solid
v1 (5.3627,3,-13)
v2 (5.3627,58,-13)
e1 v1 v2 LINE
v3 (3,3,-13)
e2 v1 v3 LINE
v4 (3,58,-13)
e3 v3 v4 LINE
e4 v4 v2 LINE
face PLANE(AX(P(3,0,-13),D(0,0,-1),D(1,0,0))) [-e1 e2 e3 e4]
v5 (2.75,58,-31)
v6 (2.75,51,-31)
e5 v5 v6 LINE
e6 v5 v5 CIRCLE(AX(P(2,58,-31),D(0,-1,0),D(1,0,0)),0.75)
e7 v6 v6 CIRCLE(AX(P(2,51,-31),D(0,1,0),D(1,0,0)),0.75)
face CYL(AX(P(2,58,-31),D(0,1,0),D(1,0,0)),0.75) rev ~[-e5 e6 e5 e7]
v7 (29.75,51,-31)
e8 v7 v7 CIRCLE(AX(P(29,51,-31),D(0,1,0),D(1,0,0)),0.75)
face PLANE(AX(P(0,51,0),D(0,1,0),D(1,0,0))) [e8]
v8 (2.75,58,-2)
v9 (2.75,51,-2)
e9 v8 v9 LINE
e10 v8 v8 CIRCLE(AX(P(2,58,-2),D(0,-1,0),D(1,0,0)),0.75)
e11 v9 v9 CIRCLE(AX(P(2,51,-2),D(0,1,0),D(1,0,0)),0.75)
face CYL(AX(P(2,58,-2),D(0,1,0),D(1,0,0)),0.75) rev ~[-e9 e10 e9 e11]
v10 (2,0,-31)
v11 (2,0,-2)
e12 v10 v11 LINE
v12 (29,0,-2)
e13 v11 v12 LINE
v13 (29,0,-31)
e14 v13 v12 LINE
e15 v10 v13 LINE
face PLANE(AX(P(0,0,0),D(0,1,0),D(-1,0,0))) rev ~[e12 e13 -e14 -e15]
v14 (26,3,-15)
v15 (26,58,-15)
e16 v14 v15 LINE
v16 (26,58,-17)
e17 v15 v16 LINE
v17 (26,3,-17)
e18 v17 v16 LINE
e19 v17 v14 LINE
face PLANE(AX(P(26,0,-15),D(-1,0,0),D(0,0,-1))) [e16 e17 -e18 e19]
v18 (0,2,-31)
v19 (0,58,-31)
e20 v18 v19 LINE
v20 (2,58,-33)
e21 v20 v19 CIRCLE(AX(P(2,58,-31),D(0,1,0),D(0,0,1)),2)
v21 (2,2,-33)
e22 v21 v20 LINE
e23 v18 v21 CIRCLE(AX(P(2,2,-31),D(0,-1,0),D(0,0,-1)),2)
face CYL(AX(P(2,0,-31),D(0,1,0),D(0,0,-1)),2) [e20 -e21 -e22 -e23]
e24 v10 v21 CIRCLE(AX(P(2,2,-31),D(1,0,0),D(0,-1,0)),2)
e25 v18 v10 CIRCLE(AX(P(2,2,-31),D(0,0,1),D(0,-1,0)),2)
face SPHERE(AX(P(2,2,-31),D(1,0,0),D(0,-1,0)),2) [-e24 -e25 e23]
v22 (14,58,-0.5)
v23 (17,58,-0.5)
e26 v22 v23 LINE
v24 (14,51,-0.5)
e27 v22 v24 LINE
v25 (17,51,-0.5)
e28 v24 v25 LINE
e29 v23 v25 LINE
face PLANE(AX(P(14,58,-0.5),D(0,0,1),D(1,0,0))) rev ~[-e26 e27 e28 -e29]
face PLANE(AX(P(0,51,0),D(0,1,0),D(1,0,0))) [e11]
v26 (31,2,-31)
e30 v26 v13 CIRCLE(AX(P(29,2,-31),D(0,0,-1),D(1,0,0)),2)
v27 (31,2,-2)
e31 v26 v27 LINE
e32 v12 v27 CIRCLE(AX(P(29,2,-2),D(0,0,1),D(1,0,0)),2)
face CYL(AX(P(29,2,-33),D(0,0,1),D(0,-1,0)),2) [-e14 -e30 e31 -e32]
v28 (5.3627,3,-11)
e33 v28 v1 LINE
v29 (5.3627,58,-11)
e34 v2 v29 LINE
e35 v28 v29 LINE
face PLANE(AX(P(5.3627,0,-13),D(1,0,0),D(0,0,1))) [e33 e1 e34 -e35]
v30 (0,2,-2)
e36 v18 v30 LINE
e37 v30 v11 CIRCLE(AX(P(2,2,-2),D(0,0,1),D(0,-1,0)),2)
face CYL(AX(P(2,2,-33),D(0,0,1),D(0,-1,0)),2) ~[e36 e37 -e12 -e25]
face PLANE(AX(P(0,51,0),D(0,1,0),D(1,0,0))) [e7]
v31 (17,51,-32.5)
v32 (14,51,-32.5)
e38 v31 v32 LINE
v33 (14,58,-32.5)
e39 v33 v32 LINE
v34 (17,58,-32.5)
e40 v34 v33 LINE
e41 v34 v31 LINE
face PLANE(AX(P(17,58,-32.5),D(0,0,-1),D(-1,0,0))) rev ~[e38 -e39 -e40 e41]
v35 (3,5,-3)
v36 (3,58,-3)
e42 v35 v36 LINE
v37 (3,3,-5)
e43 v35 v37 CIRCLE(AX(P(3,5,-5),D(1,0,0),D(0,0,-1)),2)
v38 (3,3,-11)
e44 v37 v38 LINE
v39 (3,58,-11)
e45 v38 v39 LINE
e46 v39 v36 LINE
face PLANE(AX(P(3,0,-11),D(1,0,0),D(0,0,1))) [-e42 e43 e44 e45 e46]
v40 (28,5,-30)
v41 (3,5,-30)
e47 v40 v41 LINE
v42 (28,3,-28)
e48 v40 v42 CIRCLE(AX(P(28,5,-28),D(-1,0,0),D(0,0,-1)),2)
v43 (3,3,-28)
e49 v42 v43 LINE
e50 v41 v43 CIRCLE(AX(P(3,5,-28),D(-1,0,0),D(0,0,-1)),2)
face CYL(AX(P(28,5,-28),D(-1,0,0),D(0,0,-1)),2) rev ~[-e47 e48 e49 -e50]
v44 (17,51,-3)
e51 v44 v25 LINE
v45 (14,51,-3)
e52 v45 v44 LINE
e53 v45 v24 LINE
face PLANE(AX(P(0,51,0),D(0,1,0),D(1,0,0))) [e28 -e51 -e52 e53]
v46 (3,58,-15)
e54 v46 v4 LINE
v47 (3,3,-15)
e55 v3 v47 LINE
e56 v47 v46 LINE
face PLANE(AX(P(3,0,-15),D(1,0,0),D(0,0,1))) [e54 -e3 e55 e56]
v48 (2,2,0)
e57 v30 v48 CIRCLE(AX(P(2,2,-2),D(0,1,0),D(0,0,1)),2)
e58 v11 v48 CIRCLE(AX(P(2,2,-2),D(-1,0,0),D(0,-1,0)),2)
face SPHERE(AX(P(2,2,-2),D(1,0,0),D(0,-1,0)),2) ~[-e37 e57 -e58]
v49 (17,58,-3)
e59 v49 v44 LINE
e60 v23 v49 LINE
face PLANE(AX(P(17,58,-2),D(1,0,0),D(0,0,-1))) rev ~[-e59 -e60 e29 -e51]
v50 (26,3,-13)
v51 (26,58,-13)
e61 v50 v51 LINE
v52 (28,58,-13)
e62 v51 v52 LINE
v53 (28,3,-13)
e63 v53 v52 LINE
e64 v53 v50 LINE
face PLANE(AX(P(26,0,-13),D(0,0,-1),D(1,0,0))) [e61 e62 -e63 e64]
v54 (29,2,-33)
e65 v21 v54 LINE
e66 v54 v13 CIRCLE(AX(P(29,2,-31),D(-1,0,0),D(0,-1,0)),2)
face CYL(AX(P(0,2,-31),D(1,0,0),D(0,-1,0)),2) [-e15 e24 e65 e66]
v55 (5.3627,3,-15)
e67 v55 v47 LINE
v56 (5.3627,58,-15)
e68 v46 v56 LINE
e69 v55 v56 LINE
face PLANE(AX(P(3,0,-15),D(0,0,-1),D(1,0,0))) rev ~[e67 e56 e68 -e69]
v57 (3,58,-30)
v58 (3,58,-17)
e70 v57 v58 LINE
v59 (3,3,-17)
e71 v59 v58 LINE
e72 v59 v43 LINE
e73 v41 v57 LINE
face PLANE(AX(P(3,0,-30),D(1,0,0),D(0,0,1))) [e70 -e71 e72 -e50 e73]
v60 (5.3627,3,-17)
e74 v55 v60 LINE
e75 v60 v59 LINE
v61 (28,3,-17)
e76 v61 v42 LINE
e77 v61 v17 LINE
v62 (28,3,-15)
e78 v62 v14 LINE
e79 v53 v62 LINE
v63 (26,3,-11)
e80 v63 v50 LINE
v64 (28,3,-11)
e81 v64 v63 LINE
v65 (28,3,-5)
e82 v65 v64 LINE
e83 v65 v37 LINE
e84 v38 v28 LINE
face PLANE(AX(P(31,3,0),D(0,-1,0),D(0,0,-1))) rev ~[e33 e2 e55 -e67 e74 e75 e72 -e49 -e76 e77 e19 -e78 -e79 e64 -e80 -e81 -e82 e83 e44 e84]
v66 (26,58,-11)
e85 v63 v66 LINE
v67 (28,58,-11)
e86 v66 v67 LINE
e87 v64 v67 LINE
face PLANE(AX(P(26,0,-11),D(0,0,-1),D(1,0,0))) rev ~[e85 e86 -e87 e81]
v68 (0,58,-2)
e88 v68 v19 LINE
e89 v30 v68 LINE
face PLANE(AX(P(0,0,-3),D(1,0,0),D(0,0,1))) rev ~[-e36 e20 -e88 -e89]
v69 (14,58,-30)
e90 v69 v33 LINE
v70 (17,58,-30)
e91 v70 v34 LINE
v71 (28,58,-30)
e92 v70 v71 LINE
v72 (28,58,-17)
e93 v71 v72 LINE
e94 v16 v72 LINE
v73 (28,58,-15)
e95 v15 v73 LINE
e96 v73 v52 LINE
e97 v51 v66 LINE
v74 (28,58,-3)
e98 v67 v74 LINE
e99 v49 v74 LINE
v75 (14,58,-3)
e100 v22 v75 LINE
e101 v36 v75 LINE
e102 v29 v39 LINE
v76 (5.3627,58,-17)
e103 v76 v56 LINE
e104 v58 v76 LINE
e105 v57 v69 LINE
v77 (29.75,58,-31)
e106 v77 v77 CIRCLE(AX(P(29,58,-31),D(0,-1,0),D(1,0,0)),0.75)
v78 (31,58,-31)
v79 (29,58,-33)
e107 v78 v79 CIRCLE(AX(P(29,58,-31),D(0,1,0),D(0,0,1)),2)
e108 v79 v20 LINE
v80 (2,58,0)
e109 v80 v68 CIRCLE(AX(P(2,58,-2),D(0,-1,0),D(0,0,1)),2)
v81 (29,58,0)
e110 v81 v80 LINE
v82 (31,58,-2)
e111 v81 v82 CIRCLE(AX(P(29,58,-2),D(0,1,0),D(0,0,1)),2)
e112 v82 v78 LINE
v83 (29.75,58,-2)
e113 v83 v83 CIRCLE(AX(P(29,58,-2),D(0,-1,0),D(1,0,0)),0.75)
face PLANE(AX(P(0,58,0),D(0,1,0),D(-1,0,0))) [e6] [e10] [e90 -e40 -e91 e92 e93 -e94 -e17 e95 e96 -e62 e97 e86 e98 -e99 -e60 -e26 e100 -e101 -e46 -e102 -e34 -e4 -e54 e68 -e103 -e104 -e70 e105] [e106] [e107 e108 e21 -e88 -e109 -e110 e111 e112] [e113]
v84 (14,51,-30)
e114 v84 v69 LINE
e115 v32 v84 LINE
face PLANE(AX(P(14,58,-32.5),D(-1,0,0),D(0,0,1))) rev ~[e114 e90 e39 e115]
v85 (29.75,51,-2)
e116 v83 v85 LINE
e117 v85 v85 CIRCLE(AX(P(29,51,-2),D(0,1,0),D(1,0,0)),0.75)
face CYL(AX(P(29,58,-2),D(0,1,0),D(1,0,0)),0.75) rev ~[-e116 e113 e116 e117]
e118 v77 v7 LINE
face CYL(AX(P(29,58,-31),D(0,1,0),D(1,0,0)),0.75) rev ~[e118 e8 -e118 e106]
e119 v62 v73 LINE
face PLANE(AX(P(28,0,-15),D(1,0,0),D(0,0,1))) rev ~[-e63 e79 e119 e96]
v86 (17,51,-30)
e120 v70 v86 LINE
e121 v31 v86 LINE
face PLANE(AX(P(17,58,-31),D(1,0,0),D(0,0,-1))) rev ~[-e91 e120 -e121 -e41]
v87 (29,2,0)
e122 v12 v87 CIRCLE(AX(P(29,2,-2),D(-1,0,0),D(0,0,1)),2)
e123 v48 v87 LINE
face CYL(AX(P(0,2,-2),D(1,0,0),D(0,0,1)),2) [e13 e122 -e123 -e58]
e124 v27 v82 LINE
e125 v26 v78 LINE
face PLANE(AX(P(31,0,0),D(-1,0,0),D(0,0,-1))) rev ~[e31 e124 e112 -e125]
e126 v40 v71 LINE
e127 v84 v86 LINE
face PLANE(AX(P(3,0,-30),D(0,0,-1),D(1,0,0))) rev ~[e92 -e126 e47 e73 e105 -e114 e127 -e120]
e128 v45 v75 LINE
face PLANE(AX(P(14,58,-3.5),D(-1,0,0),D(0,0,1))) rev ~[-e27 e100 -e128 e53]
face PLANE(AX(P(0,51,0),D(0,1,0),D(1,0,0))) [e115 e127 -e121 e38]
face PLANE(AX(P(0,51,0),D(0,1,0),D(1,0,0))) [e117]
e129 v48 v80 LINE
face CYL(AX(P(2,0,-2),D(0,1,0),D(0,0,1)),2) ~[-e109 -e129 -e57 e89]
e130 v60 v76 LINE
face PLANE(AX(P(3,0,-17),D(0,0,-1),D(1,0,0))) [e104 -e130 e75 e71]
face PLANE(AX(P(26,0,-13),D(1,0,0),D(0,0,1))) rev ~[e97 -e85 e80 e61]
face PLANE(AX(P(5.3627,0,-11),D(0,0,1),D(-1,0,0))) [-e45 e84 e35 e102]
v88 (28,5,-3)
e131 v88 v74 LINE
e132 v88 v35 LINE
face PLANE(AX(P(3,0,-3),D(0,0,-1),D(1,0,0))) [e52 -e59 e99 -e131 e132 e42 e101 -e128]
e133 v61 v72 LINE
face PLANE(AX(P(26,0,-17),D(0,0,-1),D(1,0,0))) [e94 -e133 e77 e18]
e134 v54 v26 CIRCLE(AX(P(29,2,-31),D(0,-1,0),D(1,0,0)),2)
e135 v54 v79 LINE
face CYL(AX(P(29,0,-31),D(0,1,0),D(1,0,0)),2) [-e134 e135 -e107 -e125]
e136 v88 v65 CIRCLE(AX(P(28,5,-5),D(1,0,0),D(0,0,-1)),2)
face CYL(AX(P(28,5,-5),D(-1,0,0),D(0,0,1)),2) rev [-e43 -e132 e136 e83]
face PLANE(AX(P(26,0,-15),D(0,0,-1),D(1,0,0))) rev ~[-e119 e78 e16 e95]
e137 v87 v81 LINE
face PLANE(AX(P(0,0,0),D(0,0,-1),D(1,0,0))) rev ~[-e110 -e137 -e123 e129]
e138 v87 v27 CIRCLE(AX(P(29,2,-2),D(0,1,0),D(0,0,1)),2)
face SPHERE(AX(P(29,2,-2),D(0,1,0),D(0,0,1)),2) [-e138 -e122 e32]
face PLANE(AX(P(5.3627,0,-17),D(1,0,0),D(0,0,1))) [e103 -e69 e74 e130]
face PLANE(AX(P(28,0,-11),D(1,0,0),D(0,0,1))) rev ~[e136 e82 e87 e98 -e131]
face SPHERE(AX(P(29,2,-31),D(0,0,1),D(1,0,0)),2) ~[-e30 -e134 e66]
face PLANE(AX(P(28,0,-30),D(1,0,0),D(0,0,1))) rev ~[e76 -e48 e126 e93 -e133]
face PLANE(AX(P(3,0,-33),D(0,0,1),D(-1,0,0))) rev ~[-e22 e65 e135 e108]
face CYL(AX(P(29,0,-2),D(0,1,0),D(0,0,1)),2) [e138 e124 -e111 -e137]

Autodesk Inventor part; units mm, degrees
ref_plane "YZ Plane" through (0, 0, 0) normal (1, 0, 0) x (0, 1, 0)
ref_plane "XZ Plane" through (0, 0, 0) normal (0, 1, 0) x (-1, 0, 0)
ref_plane "XY Plane" through (0, 0, 0) normal (0, 0, 1) x (1, 0, 0)
sketch "Boceto1" plane through (0, 0, 0) normal (0, 1, 0) x (-1, 0, 0)
  line L0 (0, 0) -> (-31, 0)
  line L1 (-31, 0) -> (-31, -33)
  line L2 (-31, -33) -> (0, -33)
  line L3 (0, -33) -> (0, 0)
  line L4 (0, -33) -> (0, -30)
  line L5 (0, -30) -> (0, -15)
  line L6 (0, -15) -> (0, -13)
  line L7 (0, -13) -> (0, -3)
  line L8 (0, -3) -> (0, 0)
  line L9 (0, -30) -> (-31, -30)
  line L10 (0, -15) -> (-31, -15)
  line L11 (0, -13) -> (-31, -13)
  line L12 (0, -3) -> (-31, -3)
  line L13 (0, -33) -> (-3, -33)
  line L14 (0, -33) -> (-3, -33)
  line L15 (-3, -33) -> (-3, 0)
  line L16 (-31, -33) -> (-28, -33)
  line L17 (-28, -33) -> (-28, 0)
  line L18 (-3, -15) -> (-3, -17)
  line L19 (-3, -17) -> (-5.3627, -17)
  line L20 (-5.3627, -17) -> (-5.3627, -15)
  line L21 (-5.3627, -13) -> (-5.3627, -11)
  line L22 (-5.3627, -11) -> (-3, -11)
  line L23 (-28, -15) -> (-26, -15)
  line L24 (-26, -15) -> (-26, -17)
  line L25 (-26, -17) -> (-28, -17)
  line L26 (-26, -13) -> (-26, -11)
  line L27 (-26, -11) -> (-28, -11)
  point P0 (-3, -30)
  point P1 (-28, -30)
  point P2 (-28, -13)
  point P3 (-28, -3)
  point P4 (-3, -3)
  point P5 (-3, -13)
  dimension "d0" = 31
  dimension "d1" = 33
  dimension "d2" = 3
  dimension "d3" = 15
  dimension "d4" = 2
  dimension "d5" = 10
  dimension "d6" = 3
  dimension "d7" = 3
  dimension "d8" = 2
  dimension "d9" = 2
  dimension "d10" = 2
  dimension "d11" = 2
  dimension "d12" = 2
extrude "Extrusión1" add sketch "Boceto1" along normal blind 58 contours L3 L12 L15 L0 | L15 L12 L17 L0 | L3 L11 L15 L12 | L17 L12 L1 L0 | L3 L10 L15 L11 | L17 L11 L1 L12 | L15 L11 L21 L22 | L3 L9 L15 L10 | L27 L26 L11 L17 | L3 L2 L15 L9 | L15 L19 L20 L10 | L11 L17 L10 L1 | L15 L2 L17 L9 | L10 L17 L9 L1 | L10 L24 L25 L17 | L17 L2 L1 L9
sketch "Boceto2" plane through (31, 0, 0) normal (1, 0, 0) x (0, 0, -1)
  line L0 (33, 0) -> (33, 58) projected
  line L1 (0, 0) -> (0, 58) projected
  line L2 (33, 0) -> (0, 0)
  line L3 (0, 0) -> (0, 3)
  line L4 (0, 3) -> (33, 3)
  line L5 (33, 3) -> (33, 0)
  dimension "d15" = 3
extrude "Extrusión2" add sketch "Boceto2" against normal up to surface (28 mm away)
fillet "Empalme1" radius 2 10 edges at (31, 29, 0) (15.5, 0, 0) (31, 0, -16.5) (31, 29, -33) (15.5, 0, -33) (0, 0, -16.5) (0, 29, 0) (0, 29, -33) (15.5, 3, -3) (15.5, 3, -30)
sketch "Boceto4" plane through (0, 58, 0) normal (0, 1, 0) x (1, 0, 0)
  line L0 (0, 31) -> (2, 31) projected
  circle A0 centre (2, 31) radius 0.75
  line L1 (29, 31) -> (31, 31) projected
  circle A1 centre (29, 31) radius 0.75
  line L2 (2, 0) -> (2, 2) projected
  circle A2 centre (2, 2) radius 0.75
  line L3 (2, 2) -> (29, 2) projected
  circle A3 centre (29, 2) radius 0.75
  line L4 (2, 31) -> (15.5, 31)
  line L5 (29, 31) -> (2, 31) projected
  line L6 (14, 29.5) -> (17, 29.5)
  line L7 (17, 29.5) -> (17, 32.5)
  line L8 (17, 32.5) -> (14, 32.5)
  line L9 (14, 32.5) -> (14, 29.5)
  line L10 (14, 29.5) -> (17, 32.5) construction
  line L11 (17, 29.5) -> (14, 32.5) construction
  line L12 (14, 0.5) -> (17, 0.5)
  line L13 (17, 0.5) -> (17, 3.5)
  line L14 (17, 3.5) -> (14, 3.5)
  line L15 (14, 3.5) -> (14, 0.5)
  line L16 (14, 0.5) -> (17, 3.5) construction
  line L17 (17, 0.5) -> (14, 3.5) construction
  point P0 (0, 0)
  point P1 (15.5, 2)
  dimension "d19" = 1.5
  dimension "d20" = 1.5
  dimension "d21" = 1.5
  dimension "d22" = 1.5
  dimension "d23" = 3
  dimension "d24" = 3
  dimension "d25" = 3
  dimension "d26" = 3
extrude "Extrusión3" cut sketch "Boceto4" against normal blind 7
sketch "Boceto5" plane through (0, 58, 0) normal (0, 1, 0) x (1, 0, 0)
  line L0 (3, 15) -> (5.3627, 15) projected
  line L1 (3, 28) -> (28, 28) projected
  line L2 (2, 33) -> (29, 33) projected
  arc A0 (2, 33) -> (0, 31) centre (2, 31) ccw projected
  arc A1 (2, 33) -> (0, 31) centre (2, 31) ccw projected
  arc A2 (2, 33) -> (0, 31) centre (2, 31) ccw projected
  line L3 (5.3627, 13) -> (3, 13) projected
  line L4 (5.3627, 11) -> (5.3627, 13) projected
  line L5 (3, 11) -> (5.3627, 11) projected
  line L6 (3, 3) -> (3, 11) projected
  arc A3 (0, 2) -> (2, 0) centre (2, 2) ccw projected
  circle A4 centre (2, 2) radius 0.75 projected
  circle A5 centre (2, 2) radius 0.75 projected
  circle A6 centre (2, 2) radius 0.75 projected
  circle A7 centre (2, 2) radius 0.75 projected
  circle A8 centre (2, 2) radius 0.75 projected
  line L7 (3, 5) -> (3, 11) projected
  line L8 (3, 11) -> (5.3627, 11) projected
  line L9 (5.3627, 11) -> (5.3627, 13) projected
  line L10 (5.3627, 13) -> (3, 13) projected
  line L11 (5.3627, 11) -> (5.3627, 13) projected
  line L12 (5.3627, 11) -> (5.3627, 13) projected
  line L13 (3, 11) -> (5.3627, 11) projected
  line L14 (3, 11) -> (5.3627, 11) projected
  line L15 (3, 3) -> (3, 5) projected
  line L16 (3, 5) -> (3, 11) projected
  line L17 (3, 3) -> (3, 11) projected
  arc A9 (0, 2) -> (2, 0) centre (2, 2) ccw projected
  arc A10 (0, 2) -> (2, 0) centre (2, 2) ccw projected
  line L18 (5.3627, 13) -> (3, 13) projected
  line L19 (5.3627, 13) -> (3, 13) projected
  line L20 (3, 3) -> (28, 3) projected
  line L21 (14, 3) -> (3, 3) projected
  line L22 (28, 3) -> (17, 3) projected
  line L23 (2, 0) -> (29, 0) projected
  line L24 (14, 3) -> (17, 3) projected
  line L25 (17, 3) -> (17, 0.5) projected
  line L26 (17, 3) -> (17, 0.5) projected
  line L27 (14, 0.5) -> (14, 3) projected
  line L28 (14, 0.5) -> (14, 3) projected
  line L29 (17, 0.5) -> (14, 0.5) projected
  line L30 (17, 0.5) -> (14, 0.5) projected
  line L31 (14, 3) -> (17, 3) projected
  line L32 (28, 3) -> (17, 3) projected
  line L33 (3, 3) -> (28, 3) projected
  line L34 (14, 3) -> (3, 3) projected
  line L35 (14, 3) -> (17, 3) projected
  line L36 (14, 0.5) -> (14, 3) projected
  line L37 (17, 0.5) -> (14, 0.5) projected
  line L38 (17, 3) -> (17, 0.5) projected
  line L39 (17, 3) -> (17, 0.5) projected
  line L40 (17, 3) -> (17, 0.5) projected
  line L41 (14, 0.5) -> (14, 3) projected
  line L42 (14, 0.5) -> (14, 3) projected
  line L43 (17, 0.5) -> (14, 0.5) projected
  line L44 (17, 0.5) -> (14, 0.5) projected
  line L45 (28, 5) -> (3, 5) projected
  line L46 (28, 5) -> (28, 3) projected
  line L47 (3, 3) -> (3, 5) projected
  arc A11 (0, 2) -> (2, 0) centre (2, 2) ccw projected
  line L48 (2, 0) -> (29, 0) projected
  line L49 (29, 0) -> (2, 0) projected
  line L50 (26, 17) -> (26, 15) projected
  line L51 (28, 17) -> (26, 17) projected
  line L52 (28, 30) -> (28, 17) projected
  arc A12 (31, 31) -> (29, 33) centre (29, 31) ccw projected
  line L53 (31, 2) -> (31, 31) projected
  circle A13 centre (29, 31) radius 0.75 projected
  circle A14 centre (29, 31) radius 0.75 projected
  circle A15 centre (29, 31) radius 0.75 projected
  circle A16 centre (29, 31) radius 0.75 projected
  circle A17 centre (29, 31) radius 0.75 projected
  line L54 (31, 31) -> (31, 2) projected
  line L55 (31, 31) -> (31, 2) projected
  line L56 (31, 2) -> (31, 31) projected
  line L57 (26, 17) -> (26, 15) projected
  line L58 (26, 17) -> (26, 15) projected
  line L59 (28, 17) -> (26, 17) projected
  line L60 (28, 17) -> (26, 17) projected
  line L61 (28, 30) -> (28, 28) projected
  line L62 (28, 28) -> (28, 17) projected
  line L63 (28, 30) -> (28, 17) projected
  arc A18 (31, 31) -> (29, 33) centre (29, 31) ccw projected
  arc A19 (31, 31) -> (29, 33) centre (29, 31) ccw projected
  line L64 (28, 11) -> (28, 3) projected
  line L65 (26, 11) -> (28, 11) projected
  line L66 (26, 13) -> (26, 11) projected
  line L67 (28, 13) -> (26, 13) projected
  line L68 (28, 15) -> (28, 13) projected
  line L69 (26, 15) -> (28, 15) projected
  arc A20 (29, 0) -> (31, 2) centre (29, 2) ccw projected
  circle A21 centre (29, 2) radius 0.75 projected
  circle A22 centre (29, 2) radius 0.75 projected
  circle A23 centre (29, 2) radius 0.75 projected
  circle A24 centre (29, 2) radius 0.75 projected
  circle A25 centre (29, 2) radius 0.75 projected
  line L70 (26, 13) -> (26, 11) projected
  line L71 (26, 13) -> (26, 11) projected
  line L72 (28, 15) -> (28, 13) projected
  line L73 (28, 15) -> (28, 13) projected
  line L74 (28, 13) -> (26, 13) projected
  line L75 (28, 13) -> (26, 13) projected
  line L76 (26, 11) -> (28, 11) projected
  line L77 (26, 11) -> (28, 11) projected
  line L78 (28, 5) -> (28, 3) projected
  line L79 (28, 11) -> (28, 3) projected
  line L80 (28, 11) -> (28, 5) projected
  arc A26 (29, 0) -> (31, 2) centre (29, 2) ccw projected
  arc A27 (29, 0) -> (31, 2) centre (29, 2) ccw projected
  line L81 (26, 15) -> (28, 15) projected
  line L82 (26, 15) -> (28, 15) projected
  line L83 (28, 30) -> (3, 30) projected
  line L84 (3, 30) -> (14, 30) projected
  line L85 (28, 30) -> (3, 30) projected
  line L86 (17, 30) -> (28, 30) projected
  line L87 (17, 30) -> (14, 30) projected
  line L88 (2, 33) -> (29, 33) projected
  line L89 (29, 33) -> (2, 33) projected
  line L90 (3, 28) -> (3, 30) projected
  line L91 (3, 17) -> (3, 30) projected
  line L92 (3, 17) -> (3, 28) projected
  line L93 (5.3627, 17) -> (3, 17) projected
  line L94 (5.3627, 17) -> (3, 17) projected
  line L95 (5.3627, 15) -> (5.3627, 17) projected
  line L96 (5.3627, 15) -> (5.3627, 17) projected
  line L97 (3, 15) -> (5.3627, 15) projected
  line L98 (3, 15) -> (5.3627, 15) projected
  line L99 (3, 13) -> (3, 15) projected
  line L100 (3, 13) -> (3, 15) projected
  line L101 (17, 30) -> (14, 30) projected
  line L102 (14, 32.5) -> (17, 32.5) projected
  line L103 (17, 30) -> (14, 30) projected
  line L104 (17, 32.5) -> (17, 30) projected
  line L105 (14, 32.5) -> (17, 32.5) projected
  line L106 (14, 30) -> (14, 32.5) projected
  line L107 (17, 30) -> (28, 30) projected
  line L108 (29, 33) -> (2, 33) projected
  arc A28 (29, 0) -> (31, 2) centre (29, 2) ccw projected
  line L109 (31, 2) -> (31, 31) projected
  arc A29 (31, 31) -> (29, 33) centre (29, 31) ccw projected
  line L110 (29, 33) -> (2, 33) projected
  arc A30 (2, 33) -> (0, 31) centre (2, 31) ccw projected
  line L111 (0, 31) -> (0, 2) projected
  arc A31 (0, 2) -> (2, 0) centre (2, 2) ccw projected
  line L112 (2, 0) -> (29, 0) projected
  circle A32 centre (2, 31) radius 0.75 projected
  circle A33 centre (29, 2) radius 0.75 projected
  circle A34 centre (2, 2) radius 0.75 projected
  circle A35 centre (29, 31) radius 0.75 projected
  line L113 (14, 30) -> (14, 32.5) projected
  line L114 (14, 32.5) -> (17, 32.5) projected
  line L115 (17, 32.5) -> (17, 30) projected
  line L116 (17, 30) -> (28, 30) projected
  line L117 (28, 30) -> (28, 17) projected
  line L118 (28, 17) -> (26, 17) projected
  line L119 (26, 17) -> (26, 15) projected
  line L120 (26, 15) -> (28, 15) projected
  line L121 (28, 15) -> (28, 13) projected
  line L122 (28, 13) -> (26, 13) projected
  line L123 (26, 13) -> (26, 11) projected
  line L124 (26, 11) -> (28, 11) projected
  line L125 (28, 11) -> (28, 3) projected
  line L126 (28, 3) -> (17, 3) projected
  line L127 (17, 3) -> (17, 0.5) projected
  line L128 (17, 0.5) -> (14, 0.5) projected
  line L129 (14, 0.5) -> (14, 3) projected
  line L130 (14, 3) -> (3, 3) projected
  line L131 (3, 3) -> (3, 11) projected
  line L132 (3, 11) -> (5.3627, 11) projected
  line L133 (5.3627, 11) -> (5.3627, 13) projected
  line L134 (5.3627, 13) -> (3, 13) projected
  line L135 (3, 13) -> (3, 15) projected
  line L136 (3, 15) -> (5.3627, 15) projected
  line L137 (5.3627, 15) -> (5.3627, 17) projected
  line L138 (5.3627, 17) -> (3, 17) projected
  line L139 (3, 17) -> (3, 30) projected
  line L140 (3, 30) -> (14, 30) projected
  line L141 (5.3627, 15) -> (5.3627, 17) projected
  line L142 (3, 15) -> (5.3627, 15) projected
  line L143 (3, 13) -> (3, 15) projected
  line L144 (5.3627, 17) -> (3, 17) projected
  circle A36 centre (2, 31) radius 0.75 projected
  circle A37 centre (2, 31) radius 0.75 projected
  circle A38 centre (2, 31) radius 0.75 projected
  arc A39 (2, 33) -> (0, 31) centre (2, 31) ccw projected
  line L145 (14, 32.5) -> (17, 32.5) projected
  line L146 (14, 32.5) -> (17, 32.5) projected
  line L147 (14, 32.5) -> (17, 32.5) projected
  line L148 (3, 28) -> (3, 30) projected
  line L149 (5.3627, 17) -> (3, 17) projected
  line L150 (5.3627, 15) -> (5.3627, 17) projected
  arc A40 (2, 33) -> (0, 31) centre (2, 31) ccw projected
  line L151 (2, 31) -> (2, 33) projected
  line L152 (0, 31) -> (2, 31) projected
  line L153 (28, 30) -> (28, 28) projected
  line L154 (26, 17) -> (26, 15) projected
  line L155 (28, 17) -> (26, 17) projected
  line L156 (26, 15) -> (28, 15) projected
  line L157 (26, 13) -> (26, 11) projected
  line L158 (28, 15) -> (28, 13) projected
  line L159 (28, 13) -> (26, 13) projected
  line L160 (26, 11) -> (28, 11) projected
  line L161 (28, 11) -> (28, 5) projected
  line L162 (29, 0) -> (2, 0) projected
  arc A41 (29, 0) -> (31, 2) centre (29, 2) ccw projected
  line L163 (29, 31) -> (2, 31) projected
  line L164 (2, 31) -> (2, 2) projected
  line L165 (29, 2) -> (29, 31) projected
  line L166 (2, 2) -> (29, 2) projected
  line L167 (31, 2) -> (29, 2) projected
  line L168 (29, 2) -> (29, 0) projected
  line L169 (2, 0) -> (2, 2) projected
  line L170 (2, 2) -> (0, 2) projected
  line L171 (29, 33) -> (29, 31) projected
  line L172 (29, 31) -> (31, 31) projected
  line L173 (0, 31) -> (2, 31) projected
  line L174 (2, 31) -> (2, 33) projected
  line L175 (28, 30) -> (28, 28) projected
  line L176 (28, 30) -> (3, 30) projected
  line L177 (3, 28) -> (3, 30) projected
  line L178 (3, 28) -> (28, 28) projected
  line L179 (3, 3) -> (3, 5) projected
  line L180 (3, 3) -> (28, 3) projected
  line L181 (28, 5) -> (28, 3) projected
  line L182 (28, 5) -> (3, 5) projected
  arc A42 (31, 31) -> (29, 33) centre (29, 31) ccw projected
  line L183 (29, 31) -> (31, 31) projected
  line L184 (29, 33) -> (29, 31) projected
  line L185 (2, 2) -> (29, 2) projected
  line L186 (2, 31) -> (2, 2) projected
  line L187 (29, 31) -> (2, 31) projected
  line L188 (29, 2) -> (29, 31) projected
  line L189 (2, 2) -> (0, 2) projected
  line L190 (0, 2) -> (0, 31) projected
  line L191 (0, 31) -> (2, 31) projected
  line L192 (2, 31) -> (2, 2) projected
  line L193 (29, 31) -> (31, 31) projected
  line L194 (31, 31) -> (31, 2) projected
  line L195 (31, 2) -> (29, 2) projected
  line L196 (29, 2) -> (29, 31) projected
  line L197 (2, 2) -> (0, 2) projected
  line L198 (2, 0) -> (2, 2) projected
  arc A43 (0, 2) -> (2, 0) centre (2, 2) ccw projected
  arc A44 (29, 0) -> (31, 2) centre (29, 2) ccw projected
  line L199 (29, 2) -> (29, 0) projected
  line L200 (31, 2) -> (29, 2) projected
  line L201 (29, 2) -> (29, 0) projected
  line L202 (29, 0) -> (2, 0) projected
  line L203 (2, 0) -> (2, 2) projected
  line L204 (2, 2) -> (29, 2) projected
  line L205 (3, 28) -> (28, 28) projected
  line L206 (3, 17) -> (3, 28) projected
  line L207 (5.3627, 17) -> (3, 17) projected
  line L208 (5.3627, 15) -> (5.3627, 17) projected
  line L209 (3, 15) -> (5.3627, 15) projected
  line L210 (3, 13) -> (3, 15) projected
  line L211 (5.3627, 13) -> (3, 13) projected
  line L212 (5.3627, 11) -> (5.3627, 13) projected
  line L213 (3, 11) -> (5.3627, 11) projected
  line L214 (3, 5) -> (3, 11) projected
  line L215 (28, 5) -> (3, 5) projected
  line L216 (28, 11) -> (28, 5) projected
  line L217 (26, 11) -> (28, 11) projected
  line L218 (26, 13) -> (26, 11) projected
  line L219 (28, 13) -> (26, 13) projected
  line L220 (28, 15) -> (28, 13) projected
  line L221 (26, 15) -> (28, 15) projected
  line L222 (26, 17) -> (26, 15) projected
  line L223 (28, 17) -> (26, 17) projected
  line L224 (28, 28) -> (28, 17) projected
  line L225 (3, 17) -> (3, 28) projected
  circle A45 centre (2, 31) radius 0.75 projected
  circle A46 centre (2, 31) radius 0.75 projected
  line L226 (3, 17) -> (3, 30) projected
  line L227 (17, 32.5) -> (17, 30) projected
  line L228 (17, 32.5) -> (17, 30) projected
  line L229 (17, 32.5) -> (17, 30) projected
  line L230 (17, 32.5) -> (17, 30) projected
  line L231 (14, 30) -> (14, 32.5) projected
  line L232 (14, 30) -> (14, 32.5) projected
  line L233 (14, 30) -> (14, 32.5) projected
  line L234 (14, 30) -> (14, 32.5) projected
  line L235 (3, 30) -> (14, 30) projected
  arc A47 (31, 31) -> (29, 33) centre (29, 31) ccw projected
  line L236 (2, 31) -> (2, 33) projected
  line L237 (2, 33) -> (29, 33) projected
  line L238 (29, 33) -> (29, 31) projected
  line L239 (29, 31) -> (2, 31) projected
  line L240 (28, 28) -> (28, 17) projected
  line L241 (3, 13) -> (3, 15) projected
  point P0 (0, 0)
equation "\"Radio_pliegue\" = Grosor"
equation "\"Anchura_desahogo_plegado\" = Grosor"
equation "\"Profundidad_desahogo_plegado\" = 0.5 * Grosor"
equation "\"Tamaño_destalonado\" = 4 * Grosor"
equation "\"Remanente_mínimo\" = 2 * Grosor"
equation "\"Radiodetransición\" = Radio_pliegue"
equation "\"Tamaño_de_radio_de_Jacobi\" = Radio_pliegue"
equation "\"TamañoSeparación\" = Grosor"
equation "\"Grosor\" = 0.5"
properties part number "CajaNodoReceptor"
